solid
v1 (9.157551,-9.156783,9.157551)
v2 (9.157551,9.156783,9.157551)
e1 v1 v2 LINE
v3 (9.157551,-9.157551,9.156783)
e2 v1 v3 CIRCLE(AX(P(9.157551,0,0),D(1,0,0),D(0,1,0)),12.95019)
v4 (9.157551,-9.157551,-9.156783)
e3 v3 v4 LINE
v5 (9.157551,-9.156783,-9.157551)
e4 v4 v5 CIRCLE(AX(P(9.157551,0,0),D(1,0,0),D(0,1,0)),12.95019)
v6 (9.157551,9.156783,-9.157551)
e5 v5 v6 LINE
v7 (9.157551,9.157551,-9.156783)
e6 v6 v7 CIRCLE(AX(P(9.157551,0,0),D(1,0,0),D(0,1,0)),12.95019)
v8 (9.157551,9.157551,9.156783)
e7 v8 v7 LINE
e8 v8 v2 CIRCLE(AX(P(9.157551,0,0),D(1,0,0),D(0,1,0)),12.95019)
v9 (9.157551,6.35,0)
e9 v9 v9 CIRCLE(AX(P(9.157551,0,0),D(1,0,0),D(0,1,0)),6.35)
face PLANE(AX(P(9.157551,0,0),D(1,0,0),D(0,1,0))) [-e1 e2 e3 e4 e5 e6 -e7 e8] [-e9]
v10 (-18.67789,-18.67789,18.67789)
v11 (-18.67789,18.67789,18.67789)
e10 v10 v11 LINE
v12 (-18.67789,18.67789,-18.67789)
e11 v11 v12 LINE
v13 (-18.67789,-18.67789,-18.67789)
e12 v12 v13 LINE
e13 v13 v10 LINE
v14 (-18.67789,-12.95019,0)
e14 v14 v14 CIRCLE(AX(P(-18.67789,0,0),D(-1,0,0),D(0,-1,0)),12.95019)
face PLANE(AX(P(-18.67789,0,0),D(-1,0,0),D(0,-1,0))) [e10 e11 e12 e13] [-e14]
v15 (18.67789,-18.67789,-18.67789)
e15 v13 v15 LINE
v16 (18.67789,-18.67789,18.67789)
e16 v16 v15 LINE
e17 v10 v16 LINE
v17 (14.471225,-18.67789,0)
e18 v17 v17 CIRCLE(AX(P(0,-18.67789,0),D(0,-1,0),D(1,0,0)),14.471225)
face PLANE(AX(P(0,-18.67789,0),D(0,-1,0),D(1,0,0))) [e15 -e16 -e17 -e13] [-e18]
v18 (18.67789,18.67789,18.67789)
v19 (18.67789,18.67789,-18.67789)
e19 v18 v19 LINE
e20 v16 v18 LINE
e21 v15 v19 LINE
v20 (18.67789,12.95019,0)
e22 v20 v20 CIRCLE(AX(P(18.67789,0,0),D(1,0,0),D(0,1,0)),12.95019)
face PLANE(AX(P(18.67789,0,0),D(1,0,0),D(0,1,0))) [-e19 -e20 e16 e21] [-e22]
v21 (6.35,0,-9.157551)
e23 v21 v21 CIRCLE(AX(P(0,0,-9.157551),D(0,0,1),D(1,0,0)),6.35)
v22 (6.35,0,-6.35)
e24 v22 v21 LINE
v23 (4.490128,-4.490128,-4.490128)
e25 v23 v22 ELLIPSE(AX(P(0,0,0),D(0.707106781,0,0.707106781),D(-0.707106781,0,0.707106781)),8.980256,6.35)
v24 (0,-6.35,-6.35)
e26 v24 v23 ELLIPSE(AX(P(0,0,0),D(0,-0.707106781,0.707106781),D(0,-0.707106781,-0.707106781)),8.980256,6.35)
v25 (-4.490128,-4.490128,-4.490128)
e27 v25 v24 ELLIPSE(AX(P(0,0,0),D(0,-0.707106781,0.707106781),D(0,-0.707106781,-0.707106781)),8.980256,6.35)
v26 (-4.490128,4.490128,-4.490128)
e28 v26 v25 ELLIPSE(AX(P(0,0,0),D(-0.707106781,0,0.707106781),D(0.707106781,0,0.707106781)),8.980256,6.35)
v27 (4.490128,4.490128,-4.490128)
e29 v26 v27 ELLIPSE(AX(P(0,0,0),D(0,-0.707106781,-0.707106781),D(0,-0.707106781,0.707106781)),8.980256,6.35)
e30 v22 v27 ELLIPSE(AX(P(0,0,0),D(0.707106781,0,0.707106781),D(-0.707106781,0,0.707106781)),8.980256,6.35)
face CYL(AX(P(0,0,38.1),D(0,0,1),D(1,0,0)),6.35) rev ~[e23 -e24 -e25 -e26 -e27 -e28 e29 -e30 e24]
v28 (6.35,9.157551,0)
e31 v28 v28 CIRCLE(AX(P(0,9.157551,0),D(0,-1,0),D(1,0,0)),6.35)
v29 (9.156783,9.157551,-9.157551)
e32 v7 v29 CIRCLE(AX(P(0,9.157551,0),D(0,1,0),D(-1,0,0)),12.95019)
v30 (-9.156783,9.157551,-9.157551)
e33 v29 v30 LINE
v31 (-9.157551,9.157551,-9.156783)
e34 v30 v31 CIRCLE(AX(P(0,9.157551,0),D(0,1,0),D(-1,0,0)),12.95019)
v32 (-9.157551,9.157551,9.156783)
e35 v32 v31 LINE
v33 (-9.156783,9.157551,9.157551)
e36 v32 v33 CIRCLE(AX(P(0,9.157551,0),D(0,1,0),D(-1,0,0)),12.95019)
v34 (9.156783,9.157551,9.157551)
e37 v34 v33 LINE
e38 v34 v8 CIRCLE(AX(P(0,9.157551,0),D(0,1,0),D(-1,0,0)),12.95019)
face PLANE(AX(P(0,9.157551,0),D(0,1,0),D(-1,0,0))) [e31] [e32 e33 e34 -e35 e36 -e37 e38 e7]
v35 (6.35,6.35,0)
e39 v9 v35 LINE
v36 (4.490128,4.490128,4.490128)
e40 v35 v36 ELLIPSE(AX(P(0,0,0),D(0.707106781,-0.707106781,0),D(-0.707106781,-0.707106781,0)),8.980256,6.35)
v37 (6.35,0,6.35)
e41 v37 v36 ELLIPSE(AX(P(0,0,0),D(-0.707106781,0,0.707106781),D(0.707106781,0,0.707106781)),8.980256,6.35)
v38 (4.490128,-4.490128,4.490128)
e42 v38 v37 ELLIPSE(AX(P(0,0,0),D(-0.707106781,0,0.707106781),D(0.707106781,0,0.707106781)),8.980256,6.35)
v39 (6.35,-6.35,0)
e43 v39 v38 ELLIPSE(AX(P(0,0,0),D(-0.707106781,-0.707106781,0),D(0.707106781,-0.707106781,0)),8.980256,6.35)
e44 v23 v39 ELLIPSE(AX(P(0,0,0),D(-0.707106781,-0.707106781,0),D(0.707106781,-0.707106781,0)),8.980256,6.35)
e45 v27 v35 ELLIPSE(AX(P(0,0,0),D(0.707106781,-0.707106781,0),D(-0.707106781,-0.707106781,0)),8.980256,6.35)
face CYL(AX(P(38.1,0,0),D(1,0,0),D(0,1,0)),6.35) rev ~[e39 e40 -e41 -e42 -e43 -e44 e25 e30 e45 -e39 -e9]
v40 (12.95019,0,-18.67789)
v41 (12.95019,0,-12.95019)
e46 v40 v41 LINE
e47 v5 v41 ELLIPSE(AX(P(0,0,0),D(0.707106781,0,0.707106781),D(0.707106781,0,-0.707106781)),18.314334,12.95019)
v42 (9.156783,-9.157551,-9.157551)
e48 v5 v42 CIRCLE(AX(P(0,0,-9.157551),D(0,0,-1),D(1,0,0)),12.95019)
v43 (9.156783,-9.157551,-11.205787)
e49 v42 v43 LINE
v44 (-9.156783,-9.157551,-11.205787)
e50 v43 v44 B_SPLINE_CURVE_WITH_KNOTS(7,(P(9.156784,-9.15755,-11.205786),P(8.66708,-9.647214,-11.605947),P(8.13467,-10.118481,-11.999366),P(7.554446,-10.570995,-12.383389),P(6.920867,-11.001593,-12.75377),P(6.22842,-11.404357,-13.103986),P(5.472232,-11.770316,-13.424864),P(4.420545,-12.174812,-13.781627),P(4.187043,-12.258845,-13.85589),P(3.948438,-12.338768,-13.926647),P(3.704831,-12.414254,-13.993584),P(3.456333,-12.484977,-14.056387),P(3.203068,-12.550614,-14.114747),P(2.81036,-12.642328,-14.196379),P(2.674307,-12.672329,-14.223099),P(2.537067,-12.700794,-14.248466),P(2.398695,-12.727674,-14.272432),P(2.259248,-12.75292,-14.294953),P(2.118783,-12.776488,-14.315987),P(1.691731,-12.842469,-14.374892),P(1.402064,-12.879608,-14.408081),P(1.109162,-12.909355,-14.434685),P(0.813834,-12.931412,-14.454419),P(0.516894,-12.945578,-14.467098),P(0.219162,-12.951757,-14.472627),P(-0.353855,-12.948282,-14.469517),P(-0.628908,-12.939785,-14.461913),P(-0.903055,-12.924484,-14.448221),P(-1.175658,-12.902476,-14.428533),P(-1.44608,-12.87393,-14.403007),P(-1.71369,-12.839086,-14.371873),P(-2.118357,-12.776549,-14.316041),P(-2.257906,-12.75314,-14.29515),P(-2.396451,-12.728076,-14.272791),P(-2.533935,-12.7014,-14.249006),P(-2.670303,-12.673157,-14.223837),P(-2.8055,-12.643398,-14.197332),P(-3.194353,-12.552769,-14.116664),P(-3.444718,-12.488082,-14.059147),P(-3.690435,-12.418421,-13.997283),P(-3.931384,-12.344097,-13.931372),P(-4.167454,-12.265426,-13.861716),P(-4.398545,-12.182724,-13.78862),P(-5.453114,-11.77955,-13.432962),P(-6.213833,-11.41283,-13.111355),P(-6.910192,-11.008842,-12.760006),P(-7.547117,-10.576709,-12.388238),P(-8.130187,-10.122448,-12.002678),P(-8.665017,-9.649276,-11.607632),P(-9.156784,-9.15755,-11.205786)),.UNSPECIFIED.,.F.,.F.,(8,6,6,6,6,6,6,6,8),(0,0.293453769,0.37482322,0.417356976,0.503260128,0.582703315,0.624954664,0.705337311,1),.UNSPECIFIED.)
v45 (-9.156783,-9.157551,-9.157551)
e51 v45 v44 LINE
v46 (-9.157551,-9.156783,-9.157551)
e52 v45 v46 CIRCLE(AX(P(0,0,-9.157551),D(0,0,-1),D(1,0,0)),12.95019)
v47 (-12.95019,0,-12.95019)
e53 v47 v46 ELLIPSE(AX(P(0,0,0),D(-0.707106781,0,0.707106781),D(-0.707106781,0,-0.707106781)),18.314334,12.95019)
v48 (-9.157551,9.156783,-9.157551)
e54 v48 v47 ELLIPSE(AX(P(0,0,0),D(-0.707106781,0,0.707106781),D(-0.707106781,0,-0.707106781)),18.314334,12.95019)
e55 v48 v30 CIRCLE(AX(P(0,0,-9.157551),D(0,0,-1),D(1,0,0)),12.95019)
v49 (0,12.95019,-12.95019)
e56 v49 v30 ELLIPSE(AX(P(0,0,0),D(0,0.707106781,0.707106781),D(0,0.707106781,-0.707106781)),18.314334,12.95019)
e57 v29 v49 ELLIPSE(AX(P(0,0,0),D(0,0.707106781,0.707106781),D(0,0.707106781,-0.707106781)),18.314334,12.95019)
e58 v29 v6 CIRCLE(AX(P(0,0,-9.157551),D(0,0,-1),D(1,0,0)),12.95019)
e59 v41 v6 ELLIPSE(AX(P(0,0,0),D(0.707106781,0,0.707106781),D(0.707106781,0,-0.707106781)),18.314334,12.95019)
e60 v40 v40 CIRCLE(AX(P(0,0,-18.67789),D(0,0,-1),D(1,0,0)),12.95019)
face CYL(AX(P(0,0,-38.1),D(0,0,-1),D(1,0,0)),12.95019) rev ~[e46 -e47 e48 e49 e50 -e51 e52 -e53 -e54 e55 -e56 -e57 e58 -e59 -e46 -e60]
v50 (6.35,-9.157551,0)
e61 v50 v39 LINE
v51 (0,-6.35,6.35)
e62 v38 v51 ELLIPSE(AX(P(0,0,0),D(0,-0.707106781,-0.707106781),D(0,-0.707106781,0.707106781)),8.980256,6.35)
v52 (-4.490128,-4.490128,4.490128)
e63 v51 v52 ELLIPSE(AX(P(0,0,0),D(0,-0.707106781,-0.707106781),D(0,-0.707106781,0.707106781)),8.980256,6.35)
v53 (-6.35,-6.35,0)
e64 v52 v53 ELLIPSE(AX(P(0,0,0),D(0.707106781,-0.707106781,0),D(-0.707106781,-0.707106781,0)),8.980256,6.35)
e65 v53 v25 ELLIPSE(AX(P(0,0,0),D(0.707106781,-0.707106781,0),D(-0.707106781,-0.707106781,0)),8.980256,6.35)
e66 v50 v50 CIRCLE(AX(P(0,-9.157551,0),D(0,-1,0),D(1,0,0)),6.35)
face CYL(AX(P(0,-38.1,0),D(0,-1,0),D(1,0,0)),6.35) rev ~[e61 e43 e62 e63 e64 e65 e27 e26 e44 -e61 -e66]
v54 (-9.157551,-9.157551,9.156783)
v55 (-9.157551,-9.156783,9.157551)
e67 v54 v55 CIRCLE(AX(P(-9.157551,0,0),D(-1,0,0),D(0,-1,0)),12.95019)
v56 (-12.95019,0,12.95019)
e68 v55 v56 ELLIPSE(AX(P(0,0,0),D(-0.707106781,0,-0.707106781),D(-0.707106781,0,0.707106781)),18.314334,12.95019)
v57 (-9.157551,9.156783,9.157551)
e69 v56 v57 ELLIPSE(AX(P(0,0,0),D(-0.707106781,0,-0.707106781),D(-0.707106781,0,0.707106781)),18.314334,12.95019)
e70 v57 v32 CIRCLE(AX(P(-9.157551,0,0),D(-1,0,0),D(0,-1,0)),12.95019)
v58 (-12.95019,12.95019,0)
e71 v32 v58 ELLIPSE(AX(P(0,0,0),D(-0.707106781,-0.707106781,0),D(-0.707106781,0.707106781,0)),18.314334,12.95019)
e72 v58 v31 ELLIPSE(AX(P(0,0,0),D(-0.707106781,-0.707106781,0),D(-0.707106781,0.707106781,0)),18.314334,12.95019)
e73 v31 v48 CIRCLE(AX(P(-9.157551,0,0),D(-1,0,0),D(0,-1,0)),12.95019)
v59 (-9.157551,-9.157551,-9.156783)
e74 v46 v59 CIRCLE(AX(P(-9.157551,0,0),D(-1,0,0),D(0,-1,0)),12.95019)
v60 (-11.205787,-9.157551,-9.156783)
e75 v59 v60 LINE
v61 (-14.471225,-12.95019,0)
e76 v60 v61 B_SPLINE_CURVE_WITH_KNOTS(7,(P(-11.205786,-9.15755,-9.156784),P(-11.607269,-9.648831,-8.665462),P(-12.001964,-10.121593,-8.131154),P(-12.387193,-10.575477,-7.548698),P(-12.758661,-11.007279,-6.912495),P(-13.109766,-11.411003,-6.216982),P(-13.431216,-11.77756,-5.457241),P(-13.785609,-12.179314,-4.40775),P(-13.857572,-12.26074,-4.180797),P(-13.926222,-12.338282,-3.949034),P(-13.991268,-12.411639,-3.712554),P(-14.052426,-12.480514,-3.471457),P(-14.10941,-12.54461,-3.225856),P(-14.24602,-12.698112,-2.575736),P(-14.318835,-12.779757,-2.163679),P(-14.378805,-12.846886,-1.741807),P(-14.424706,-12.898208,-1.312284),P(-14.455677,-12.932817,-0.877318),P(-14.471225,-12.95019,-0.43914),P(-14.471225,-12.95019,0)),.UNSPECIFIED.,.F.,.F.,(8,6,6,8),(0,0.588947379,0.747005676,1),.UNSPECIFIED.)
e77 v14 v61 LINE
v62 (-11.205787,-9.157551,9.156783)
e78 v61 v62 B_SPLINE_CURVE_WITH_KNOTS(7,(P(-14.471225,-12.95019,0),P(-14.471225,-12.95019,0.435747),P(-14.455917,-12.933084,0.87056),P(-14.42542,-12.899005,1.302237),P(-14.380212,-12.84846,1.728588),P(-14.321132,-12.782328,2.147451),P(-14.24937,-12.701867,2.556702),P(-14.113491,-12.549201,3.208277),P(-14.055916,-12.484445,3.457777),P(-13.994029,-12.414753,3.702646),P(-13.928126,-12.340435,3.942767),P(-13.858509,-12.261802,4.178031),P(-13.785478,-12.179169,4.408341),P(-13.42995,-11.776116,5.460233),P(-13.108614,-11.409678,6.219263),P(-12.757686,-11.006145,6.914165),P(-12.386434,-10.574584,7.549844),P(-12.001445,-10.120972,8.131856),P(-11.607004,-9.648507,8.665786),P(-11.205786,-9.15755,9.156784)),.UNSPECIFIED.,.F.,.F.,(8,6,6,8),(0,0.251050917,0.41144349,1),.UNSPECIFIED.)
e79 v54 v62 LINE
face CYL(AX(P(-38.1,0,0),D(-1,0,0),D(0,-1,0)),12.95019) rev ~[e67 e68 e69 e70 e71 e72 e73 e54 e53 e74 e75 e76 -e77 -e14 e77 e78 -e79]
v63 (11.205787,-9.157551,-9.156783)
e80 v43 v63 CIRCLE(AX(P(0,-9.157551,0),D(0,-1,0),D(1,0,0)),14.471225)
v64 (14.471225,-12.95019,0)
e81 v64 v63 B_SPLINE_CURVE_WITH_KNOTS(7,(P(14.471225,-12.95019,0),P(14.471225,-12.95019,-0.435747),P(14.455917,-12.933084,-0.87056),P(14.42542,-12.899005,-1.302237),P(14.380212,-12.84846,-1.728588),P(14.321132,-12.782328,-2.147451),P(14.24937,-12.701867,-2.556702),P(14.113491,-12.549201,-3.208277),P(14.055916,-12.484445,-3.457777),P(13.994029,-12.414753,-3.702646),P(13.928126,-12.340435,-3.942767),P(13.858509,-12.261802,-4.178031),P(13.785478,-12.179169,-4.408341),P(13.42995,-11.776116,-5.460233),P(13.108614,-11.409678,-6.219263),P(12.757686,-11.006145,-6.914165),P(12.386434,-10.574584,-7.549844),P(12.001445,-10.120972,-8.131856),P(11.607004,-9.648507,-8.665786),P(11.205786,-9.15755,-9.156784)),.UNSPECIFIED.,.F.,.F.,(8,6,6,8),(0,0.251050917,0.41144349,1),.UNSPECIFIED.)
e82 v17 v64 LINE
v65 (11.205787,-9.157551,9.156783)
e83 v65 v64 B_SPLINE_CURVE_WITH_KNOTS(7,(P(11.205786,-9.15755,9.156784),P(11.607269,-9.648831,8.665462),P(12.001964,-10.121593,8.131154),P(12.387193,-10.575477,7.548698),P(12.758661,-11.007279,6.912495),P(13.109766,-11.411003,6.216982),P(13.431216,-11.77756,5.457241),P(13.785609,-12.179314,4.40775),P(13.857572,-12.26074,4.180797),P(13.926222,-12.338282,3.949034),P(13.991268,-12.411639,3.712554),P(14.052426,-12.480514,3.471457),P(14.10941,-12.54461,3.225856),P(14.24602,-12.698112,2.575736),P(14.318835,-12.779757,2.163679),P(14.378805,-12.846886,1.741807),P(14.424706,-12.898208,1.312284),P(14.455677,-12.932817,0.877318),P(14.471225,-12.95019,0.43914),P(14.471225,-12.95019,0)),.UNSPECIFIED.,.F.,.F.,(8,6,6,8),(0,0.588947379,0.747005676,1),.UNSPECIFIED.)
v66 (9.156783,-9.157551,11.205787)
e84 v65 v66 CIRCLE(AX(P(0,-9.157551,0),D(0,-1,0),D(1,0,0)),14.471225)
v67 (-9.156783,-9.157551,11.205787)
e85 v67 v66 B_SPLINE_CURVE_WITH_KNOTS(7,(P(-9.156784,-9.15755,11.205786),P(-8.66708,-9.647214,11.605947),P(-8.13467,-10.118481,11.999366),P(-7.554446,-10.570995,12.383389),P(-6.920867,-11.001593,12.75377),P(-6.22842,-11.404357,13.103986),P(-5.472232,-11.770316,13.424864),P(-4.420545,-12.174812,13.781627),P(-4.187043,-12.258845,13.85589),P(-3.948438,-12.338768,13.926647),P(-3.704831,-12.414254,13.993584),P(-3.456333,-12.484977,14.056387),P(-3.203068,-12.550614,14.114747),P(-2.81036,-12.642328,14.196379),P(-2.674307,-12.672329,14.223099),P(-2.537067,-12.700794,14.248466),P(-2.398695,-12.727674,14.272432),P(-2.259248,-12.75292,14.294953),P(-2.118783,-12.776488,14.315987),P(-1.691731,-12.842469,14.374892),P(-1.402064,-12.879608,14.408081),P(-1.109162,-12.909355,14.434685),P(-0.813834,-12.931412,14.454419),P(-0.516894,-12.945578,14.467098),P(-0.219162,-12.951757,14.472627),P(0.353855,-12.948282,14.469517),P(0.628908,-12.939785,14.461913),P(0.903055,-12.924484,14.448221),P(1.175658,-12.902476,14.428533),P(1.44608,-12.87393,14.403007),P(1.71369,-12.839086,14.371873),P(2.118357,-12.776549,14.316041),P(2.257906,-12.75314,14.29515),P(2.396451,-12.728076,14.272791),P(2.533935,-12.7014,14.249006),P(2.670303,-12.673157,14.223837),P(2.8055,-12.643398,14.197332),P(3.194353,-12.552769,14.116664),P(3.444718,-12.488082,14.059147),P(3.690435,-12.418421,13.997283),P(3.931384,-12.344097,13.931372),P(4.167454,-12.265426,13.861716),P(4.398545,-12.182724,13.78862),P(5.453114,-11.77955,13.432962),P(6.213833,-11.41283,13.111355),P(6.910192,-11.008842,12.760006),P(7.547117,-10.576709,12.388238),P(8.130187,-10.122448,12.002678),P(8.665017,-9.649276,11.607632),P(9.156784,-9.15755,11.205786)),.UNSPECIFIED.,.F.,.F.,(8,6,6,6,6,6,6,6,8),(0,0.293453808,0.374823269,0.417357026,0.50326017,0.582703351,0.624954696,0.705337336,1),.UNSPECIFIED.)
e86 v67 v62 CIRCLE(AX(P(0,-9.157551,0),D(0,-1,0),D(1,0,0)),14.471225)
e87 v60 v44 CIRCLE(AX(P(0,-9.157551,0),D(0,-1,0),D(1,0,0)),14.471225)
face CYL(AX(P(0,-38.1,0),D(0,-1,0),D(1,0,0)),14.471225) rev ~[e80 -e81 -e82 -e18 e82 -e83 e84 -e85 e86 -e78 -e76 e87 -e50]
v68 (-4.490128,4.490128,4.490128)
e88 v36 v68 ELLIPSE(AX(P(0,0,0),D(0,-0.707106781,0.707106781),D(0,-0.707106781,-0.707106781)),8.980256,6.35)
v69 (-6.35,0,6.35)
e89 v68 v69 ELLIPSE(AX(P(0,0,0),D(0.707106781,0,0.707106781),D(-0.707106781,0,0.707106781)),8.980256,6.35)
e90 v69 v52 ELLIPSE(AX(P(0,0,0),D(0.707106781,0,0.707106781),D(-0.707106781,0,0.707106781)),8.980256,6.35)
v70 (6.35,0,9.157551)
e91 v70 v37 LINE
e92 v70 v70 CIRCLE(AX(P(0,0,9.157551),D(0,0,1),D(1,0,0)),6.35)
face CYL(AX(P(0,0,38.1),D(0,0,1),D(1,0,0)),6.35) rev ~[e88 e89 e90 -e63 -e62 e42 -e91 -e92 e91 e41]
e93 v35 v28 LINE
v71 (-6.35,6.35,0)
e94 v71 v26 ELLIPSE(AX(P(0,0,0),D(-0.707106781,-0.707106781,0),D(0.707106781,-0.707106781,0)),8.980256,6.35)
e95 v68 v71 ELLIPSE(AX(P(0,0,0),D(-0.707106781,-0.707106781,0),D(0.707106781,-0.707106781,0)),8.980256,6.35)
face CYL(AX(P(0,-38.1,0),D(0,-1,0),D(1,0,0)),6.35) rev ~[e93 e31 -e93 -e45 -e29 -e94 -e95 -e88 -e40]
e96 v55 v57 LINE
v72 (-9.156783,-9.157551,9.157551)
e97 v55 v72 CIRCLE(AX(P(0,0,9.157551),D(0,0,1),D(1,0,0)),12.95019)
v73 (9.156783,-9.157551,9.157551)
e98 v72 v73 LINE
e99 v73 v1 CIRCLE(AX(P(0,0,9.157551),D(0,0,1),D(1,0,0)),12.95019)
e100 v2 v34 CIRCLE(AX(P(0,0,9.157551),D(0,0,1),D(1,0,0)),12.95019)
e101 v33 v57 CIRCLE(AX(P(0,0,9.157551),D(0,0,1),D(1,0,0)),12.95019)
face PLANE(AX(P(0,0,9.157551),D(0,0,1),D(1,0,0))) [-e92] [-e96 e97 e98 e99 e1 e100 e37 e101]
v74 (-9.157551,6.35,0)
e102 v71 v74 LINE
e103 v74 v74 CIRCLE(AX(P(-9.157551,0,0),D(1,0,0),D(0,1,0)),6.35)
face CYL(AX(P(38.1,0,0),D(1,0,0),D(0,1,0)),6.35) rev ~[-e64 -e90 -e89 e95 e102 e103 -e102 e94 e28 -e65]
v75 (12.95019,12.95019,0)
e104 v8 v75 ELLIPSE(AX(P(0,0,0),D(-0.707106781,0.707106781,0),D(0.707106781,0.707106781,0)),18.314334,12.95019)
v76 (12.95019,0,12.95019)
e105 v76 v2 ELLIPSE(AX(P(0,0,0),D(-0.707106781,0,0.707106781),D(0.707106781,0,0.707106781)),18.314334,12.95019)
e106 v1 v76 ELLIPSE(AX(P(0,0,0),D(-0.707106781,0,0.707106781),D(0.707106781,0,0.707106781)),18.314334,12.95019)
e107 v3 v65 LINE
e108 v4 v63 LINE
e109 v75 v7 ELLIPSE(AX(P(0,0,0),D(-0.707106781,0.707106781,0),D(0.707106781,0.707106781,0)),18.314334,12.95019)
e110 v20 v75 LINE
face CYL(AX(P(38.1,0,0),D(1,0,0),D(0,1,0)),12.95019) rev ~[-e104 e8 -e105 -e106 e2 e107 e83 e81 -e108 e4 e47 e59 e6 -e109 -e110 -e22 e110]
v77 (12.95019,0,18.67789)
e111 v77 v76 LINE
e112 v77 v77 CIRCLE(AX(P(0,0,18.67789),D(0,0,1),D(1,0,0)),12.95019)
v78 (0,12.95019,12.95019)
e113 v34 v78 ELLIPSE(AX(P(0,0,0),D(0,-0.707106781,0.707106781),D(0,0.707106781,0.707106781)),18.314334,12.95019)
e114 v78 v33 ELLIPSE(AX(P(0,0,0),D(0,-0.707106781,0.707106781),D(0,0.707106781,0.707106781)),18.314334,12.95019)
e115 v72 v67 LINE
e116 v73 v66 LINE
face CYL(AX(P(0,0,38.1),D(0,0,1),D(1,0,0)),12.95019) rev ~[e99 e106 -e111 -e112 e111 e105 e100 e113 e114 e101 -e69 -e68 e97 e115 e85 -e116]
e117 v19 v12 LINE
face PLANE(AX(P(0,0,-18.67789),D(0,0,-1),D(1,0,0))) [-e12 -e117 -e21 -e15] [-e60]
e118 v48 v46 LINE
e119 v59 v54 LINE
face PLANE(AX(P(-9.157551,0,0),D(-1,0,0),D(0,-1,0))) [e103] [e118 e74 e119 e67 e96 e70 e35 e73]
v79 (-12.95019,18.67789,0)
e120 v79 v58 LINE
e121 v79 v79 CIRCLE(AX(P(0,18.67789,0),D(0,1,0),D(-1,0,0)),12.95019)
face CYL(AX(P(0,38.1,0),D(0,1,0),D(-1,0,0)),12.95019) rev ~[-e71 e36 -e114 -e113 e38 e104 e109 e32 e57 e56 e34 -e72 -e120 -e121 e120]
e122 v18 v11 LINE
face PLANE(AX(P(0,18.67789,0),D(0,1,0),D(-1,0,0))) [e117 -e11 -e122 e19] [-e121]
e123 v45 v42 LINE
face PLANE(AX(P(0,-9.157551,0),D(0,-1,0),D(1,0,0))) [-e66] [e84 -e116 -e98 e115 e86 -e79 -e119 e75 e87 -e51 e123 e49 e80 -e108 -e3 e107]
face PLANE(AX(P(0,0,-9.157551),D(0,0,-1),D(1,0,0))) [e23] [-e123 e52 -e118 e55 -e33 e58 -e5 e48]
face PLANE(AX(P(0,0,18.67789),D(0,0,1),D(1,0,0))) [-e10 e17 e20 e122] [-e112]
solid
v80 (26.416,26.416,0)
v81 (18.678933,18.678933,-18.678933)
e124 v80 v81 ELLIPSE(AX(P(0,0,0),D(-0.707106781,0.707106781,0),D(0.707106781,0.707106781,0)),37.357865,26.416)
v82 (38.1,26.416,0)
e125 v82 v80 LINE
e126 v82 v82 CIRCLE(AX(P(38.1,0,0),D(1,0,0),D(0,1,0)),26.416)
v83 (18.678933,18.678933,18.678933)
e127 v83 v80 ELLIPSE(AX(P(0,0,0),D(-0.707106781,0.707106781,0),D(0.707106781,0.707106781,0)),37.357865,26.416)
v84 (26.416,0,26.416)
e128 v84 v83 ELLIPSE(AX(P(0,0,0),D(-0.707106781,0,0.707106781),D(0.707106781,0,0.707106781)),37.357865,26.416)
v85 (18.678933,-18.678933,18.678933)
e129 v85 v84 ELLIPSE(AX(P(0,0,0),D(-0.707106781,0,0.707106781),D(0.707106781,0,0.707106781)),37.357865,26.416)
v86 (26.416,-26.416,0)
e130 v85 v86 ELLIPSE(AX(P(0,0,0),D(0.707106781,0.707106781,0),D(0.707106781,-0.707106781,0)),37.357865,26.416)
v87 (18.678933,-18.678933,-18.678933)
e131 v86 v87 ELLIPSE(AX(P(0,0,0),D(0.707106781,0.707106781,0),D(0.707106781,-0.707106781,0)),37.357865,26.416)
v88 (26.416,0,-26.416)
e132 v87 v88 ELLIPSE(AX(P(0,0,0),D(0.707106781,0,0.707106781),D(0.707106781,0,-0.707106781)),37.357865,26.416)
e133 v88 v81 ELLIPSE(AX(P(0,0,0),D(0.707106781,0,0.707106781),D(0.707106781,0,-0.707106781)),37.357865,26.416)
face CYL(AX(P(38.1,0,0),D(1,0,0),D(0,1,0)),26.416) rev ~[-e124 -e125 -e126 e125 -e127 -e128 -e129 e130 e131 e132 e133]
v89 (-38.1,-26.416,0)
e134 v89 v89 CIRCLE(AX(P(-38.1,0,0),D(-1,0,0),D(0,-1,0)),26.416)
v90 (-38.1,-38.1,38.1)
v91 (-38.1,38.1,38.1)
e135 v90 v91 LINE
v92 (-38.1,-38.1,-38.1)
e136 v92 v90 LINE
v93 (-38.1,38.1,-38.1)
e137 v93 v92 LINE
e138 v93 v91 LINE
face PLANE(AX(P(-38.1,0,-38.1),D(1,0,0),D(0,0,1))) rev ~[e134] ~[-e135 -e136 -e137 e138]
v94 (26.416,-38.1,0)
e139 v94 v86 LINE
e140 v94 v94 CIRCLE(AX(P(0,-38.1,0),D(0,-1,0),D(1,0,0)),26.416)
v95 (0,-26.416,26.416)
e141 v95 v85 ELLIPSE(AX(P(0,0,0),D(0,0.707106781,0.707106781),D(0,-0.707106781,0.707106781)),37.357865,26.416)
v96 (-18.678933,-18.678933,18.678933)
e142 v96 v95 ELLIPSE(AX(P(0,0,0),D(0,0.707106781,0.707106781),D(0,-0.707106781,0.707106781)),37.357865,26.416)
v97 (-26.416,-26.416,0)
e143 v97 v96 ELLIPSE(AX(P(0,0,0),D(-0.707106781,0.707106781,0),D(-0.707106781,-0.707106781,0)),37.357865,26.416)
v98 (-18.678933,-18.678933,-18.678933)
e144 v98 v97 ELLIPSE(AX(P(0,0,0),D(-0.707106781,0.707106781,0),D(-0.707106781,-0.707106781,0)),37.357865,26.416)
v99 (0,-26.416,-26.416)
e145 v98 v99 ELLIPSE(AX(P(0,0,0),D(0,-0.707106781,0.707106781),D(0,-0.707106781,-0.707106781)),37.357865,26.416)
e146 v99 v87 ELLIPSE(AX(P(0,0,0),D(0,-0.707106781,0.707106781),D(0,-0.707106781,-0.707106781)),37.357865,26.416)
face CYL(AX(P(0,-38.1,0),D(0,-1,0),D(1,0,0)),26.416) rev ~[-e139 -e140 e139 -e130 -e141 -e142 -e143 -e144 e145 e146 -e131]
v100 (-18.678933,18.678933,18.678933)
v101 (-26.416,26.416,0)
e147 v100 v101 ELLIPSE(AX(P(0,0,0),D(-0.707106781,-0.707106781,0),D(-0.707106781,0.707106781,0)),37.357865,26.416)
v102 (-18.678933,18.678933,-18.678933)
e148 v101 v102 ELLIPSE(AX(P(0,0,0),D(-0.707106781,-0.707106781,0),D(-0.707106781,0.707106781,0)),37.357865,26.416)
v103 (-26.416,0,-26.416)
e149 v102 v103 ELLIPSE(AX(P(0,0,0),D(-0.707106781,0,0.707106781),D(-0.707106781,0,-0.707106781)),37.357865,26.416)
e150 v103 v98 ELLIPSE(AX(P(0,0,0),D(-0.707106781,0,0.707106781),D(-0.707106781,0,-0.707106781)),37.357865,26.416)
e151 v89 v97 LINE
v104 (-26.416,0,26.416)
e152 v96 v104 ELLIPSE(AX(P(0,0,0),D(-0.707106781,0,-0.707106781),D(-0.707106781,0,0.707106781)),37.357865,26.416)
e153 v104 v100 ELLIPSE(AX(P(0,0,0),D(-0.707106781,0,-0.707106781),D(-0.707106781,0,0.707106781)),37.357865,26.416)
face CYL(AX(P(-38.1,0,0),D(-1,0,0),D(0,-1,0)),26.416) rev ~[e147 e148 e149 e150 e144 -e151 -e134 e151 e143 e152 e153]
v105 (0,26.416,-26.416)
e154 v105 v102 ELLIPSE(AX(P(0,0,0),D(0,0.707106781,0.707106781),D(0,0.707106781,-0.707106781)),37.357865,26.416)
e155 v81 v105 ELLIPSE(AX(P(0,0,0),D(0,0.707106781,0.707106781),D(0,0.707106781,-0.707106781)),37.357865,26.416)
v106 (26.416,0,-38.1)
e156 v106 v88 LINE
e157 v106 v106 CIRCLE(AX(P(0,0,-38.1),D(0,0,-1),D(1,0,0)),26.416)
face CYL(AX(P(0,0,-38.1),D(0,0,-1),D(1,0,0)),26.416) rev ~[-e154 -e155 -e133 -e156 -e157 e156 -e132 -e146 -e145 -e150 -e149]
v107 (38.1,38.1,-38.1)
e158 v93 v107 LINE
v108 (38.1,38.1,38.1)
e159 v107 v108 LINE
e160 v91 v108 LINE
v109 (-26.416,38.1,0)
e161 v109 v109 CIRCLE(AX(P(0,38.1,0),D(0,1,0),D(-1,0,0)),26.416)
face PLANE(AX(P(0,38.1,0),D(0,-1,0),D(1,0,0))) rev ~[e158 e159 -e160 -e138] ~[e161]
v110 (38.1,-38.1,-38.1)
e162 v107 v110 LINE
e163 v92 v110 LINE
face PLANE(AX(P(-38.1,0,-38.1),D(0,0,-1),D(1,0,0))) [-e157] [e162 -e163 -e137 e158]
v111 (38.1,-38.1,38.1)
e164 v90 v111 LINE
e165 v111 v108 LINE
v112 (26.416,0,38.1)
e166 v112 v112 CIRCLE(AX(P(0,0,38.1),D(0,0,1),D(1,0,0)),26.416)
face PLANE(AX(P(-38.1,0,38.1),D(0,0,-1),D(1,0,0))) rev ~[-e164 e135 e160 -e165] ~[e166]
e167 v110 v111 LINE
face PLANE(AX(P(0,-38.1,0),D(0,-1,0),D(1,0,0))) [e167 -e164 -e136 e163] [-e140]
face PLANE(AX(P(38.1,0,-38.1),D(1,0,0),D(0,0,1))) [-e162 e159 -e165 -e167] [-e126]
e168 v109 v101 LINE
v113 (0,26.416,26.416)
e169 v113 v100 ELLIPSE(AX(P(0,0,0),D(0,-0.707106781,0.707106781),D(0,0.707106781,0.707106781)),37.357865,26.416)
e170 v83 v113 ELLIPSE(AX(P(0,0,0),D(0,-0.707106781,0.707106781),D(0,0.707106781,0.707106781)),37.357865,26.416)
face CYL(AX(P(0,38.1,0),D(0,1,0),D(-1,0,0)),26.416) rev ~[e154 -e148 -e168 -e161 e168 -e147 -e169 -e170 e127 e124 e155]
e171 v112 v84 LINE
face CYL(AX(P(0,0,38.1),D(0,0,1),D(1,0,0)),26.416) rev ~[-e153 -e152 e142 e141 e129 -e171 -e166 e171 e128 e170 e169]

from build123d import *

# Parameters (mm, degrees)
F0_W          = 76.2
F0_H          = 76.2
F1_DEPTH      = 38.1
F1_DEPTH_BACK = 38.1
F2_R          = 6.35
F3_DEPTH      = 76.201
F4_R          = 6.35
F5_DEPTH      = 76.201
F6_R          = 6.35
F7_DEPTH      = 76.201
F9_R          = 12.95019
F8_R          = 26.416
F8_R_2        = 6.35
F10_DEPTH     = 19.42211
F11_DEPTH     = 28.9424491
F12_R         = 26.416
F12_R_2       = 6.35
F14_DEPTH     = 19.42211
F13_R         = 12.95019
F15_DEPTH     = 28.9424491
F16_R         = 26.416
F16_R_2       = 6.35
F18_DEPTH     = 19.42211
F17_R         = 12.95019
F19_DEPTH     = 28.9424491
F20_R         = 26.416
F20_R_2       = 6.35
F22_DEPTH     = 19.42211
F21_R         = 12.95019
F23_DEPTH     = 28.9424491
F24_R         = 26.416
F24_R_2       = 6.35
F26_DEPTH     = 19.42211
F25_R         = 14.47122455
F27_DEPTH     = 28.9424491
F28_R         = 26.416
F28_R_2       = 6.35
F30_DEPTH     = 19.42211
F29_R         = 12.95019
F31_DEPTH     = 28.9424491


with BuildPart() as f1:
    # F0 (on Front) → F1 (new body, two sides)
    with BuildSketch(Plane.XZ) as f1_sk:
        Rectangle(F0_W, F0_H)
    extrude(amount=F1_DEPTH)
    extrude(f1_sk.sketch, amount=-F1_DEPTH_BACK)

    # F2 (on face) → F3 (cut, through all)
    with BuildSketch(Plane.XZ.offset(38.1)):
        Circle(F2_R)
    extrude(amount=-F3_DEPTH, mode=Mode.SUBTRACT)

    # F4 (on face) → F5 (cut, through all)
    with BuildSketch(Plane.XY.offset(38.1)):
        Circle(F4_R)
    extrude(amount=-F5_DEPTH, mode=Mode.SUBTRACT)

    # F6 (on face) → F7 (cut, through all)
    with BuildSketch(Plane.YZ.offset(38.1)):
        Circle(F6_R)
    extrude(amount=-F7_DEPTH, mode=Mode.SUBTRACT)

    # F9 (on face) + F8 (on face) → F10 (cut)
    with BuildSketch(Plane(origin=(-38.1, 0, 0), x_dir=(0, -1, 0), z_dir=(-1, 0, 0))):
        Circle(F9_R)
    with BuildSketch(Plane(origin=(-38.1, 0, 0), x_dir=(0, -1, 0), z_dir=(-1, 0, 0))):
        Circle(F8_R)
        Circle(F8_R_2, mode=Mode.SUBTRACT)
    extrude(amount=-F10_DEPTH, mode=Mode.SUBTRACT)

    # F9 (on face) → F11 (cut)
    with BuildSketch(Plane(origin=(-38.1, 0, 0), x_dir=(0, -1, 0), z_dir=(-1, 0, 0))):
        Circle(F9_R)
    extrude(amount=-F11_DEPTH, mode=Mode.SUBTRACT)

    # F12 (on face) → F14 (cut)
    with BuildSketch(Plane.XY.offset(38.1)):
        Circle(F12_R)
        Circle(F12_R_2, mode=Mode.SUBTRACT)
    extrude(amount=-F14_DEPTH, mode=Mode.SUBTRACT)

    # F13 (on face) → F15 (cut)
    with BuildSketch(Plane.XY.offset(38.1)):
        Circle(F13_R)
    extrude(amount=-F15_DEPTH, mode=Mode.SUBTRACT)

    # F16 (on face) → F18 (cut)
    with BuildSketch(Plane(origin=(0, 38.1, 0), x_dir=(-1, 0, 0), z_dir=(0, 1, 0))):
        Circle(F16_R)
        Circle(F16_R_2, mode=Mode.SUBTRACT)
    extrude(amount=-F18_DEPTH, mode=Mode.SUBTRACT)

    # F17 (on face) → F19 (cut)
    with BuildSketch(Plane(origin=(0, 38.1, 0), x_dir=(-1, 0, 0), z_dir=(0, 1, 0))):
        Circle(F17_R)
    extrude(amount=-F19_DEPTH, mode=Mode.SUBTRACT)

    # F20 (on face) → F22 (cut)
    with BuildSketch(Plane.YZ.offset(38.1)):
        Circle(F20_R)
        Circle(F20_R_2, mode=Mode.SUBTRACT)
    extrude(amount=-F22_DEPTH, mode=Mode.SUBTRACT)

    # F21 (on face) → F23 (cut)
    with BuildSketch(Plane.YZ.offset(38.1)):
        Circle(F21_R)
    extrude(amount=-F23_DEPTH, mode=Mode.SUBTRACT)

    # F24 (on face) → F26 (cut)
    with BuildSketch(Plane.XZ.offset(38.1)):
        Circle(F24_R)
        Circle(F24_R_2, mode=Mode.SUBTRACT)
    extrude(amount=-F26_DEPTH, mode=Mode.SUBTRACT)

    # F25 (on face) → F27 (cut)
    with BuildSketch(Plane.XZ.offset(38.1)):
        Circle(F25_R)
    extrude(amount=-F27_DEPTH, mode=Mode.SUBTRACT)

    # F28 (on face) → F30 (cut)
    with BuildSketch(Plane(origin=(0, 0, -38.1), x_dir=(1, 0, 0), z_dir=(0, 0, -1))):
        Circle(F28_R)
        Circle(F28_R_2, mode=Mode.SUBTRACT)
    extrude(amount=-F30_DEPTH, mode=Mode.SUBTRACT)

    # F29 (on face) → F31 (cut)
    with BuildSketch(Plane(origin=(0, 0, -38.1), x_dir=(1, 0, 0), z_dir=(0, 0, -1))):
        Circle(F29_R)
    extrude(amount=-F31_DEPTH, mode=Mode.SUBTRACT)


solid = f1.part
